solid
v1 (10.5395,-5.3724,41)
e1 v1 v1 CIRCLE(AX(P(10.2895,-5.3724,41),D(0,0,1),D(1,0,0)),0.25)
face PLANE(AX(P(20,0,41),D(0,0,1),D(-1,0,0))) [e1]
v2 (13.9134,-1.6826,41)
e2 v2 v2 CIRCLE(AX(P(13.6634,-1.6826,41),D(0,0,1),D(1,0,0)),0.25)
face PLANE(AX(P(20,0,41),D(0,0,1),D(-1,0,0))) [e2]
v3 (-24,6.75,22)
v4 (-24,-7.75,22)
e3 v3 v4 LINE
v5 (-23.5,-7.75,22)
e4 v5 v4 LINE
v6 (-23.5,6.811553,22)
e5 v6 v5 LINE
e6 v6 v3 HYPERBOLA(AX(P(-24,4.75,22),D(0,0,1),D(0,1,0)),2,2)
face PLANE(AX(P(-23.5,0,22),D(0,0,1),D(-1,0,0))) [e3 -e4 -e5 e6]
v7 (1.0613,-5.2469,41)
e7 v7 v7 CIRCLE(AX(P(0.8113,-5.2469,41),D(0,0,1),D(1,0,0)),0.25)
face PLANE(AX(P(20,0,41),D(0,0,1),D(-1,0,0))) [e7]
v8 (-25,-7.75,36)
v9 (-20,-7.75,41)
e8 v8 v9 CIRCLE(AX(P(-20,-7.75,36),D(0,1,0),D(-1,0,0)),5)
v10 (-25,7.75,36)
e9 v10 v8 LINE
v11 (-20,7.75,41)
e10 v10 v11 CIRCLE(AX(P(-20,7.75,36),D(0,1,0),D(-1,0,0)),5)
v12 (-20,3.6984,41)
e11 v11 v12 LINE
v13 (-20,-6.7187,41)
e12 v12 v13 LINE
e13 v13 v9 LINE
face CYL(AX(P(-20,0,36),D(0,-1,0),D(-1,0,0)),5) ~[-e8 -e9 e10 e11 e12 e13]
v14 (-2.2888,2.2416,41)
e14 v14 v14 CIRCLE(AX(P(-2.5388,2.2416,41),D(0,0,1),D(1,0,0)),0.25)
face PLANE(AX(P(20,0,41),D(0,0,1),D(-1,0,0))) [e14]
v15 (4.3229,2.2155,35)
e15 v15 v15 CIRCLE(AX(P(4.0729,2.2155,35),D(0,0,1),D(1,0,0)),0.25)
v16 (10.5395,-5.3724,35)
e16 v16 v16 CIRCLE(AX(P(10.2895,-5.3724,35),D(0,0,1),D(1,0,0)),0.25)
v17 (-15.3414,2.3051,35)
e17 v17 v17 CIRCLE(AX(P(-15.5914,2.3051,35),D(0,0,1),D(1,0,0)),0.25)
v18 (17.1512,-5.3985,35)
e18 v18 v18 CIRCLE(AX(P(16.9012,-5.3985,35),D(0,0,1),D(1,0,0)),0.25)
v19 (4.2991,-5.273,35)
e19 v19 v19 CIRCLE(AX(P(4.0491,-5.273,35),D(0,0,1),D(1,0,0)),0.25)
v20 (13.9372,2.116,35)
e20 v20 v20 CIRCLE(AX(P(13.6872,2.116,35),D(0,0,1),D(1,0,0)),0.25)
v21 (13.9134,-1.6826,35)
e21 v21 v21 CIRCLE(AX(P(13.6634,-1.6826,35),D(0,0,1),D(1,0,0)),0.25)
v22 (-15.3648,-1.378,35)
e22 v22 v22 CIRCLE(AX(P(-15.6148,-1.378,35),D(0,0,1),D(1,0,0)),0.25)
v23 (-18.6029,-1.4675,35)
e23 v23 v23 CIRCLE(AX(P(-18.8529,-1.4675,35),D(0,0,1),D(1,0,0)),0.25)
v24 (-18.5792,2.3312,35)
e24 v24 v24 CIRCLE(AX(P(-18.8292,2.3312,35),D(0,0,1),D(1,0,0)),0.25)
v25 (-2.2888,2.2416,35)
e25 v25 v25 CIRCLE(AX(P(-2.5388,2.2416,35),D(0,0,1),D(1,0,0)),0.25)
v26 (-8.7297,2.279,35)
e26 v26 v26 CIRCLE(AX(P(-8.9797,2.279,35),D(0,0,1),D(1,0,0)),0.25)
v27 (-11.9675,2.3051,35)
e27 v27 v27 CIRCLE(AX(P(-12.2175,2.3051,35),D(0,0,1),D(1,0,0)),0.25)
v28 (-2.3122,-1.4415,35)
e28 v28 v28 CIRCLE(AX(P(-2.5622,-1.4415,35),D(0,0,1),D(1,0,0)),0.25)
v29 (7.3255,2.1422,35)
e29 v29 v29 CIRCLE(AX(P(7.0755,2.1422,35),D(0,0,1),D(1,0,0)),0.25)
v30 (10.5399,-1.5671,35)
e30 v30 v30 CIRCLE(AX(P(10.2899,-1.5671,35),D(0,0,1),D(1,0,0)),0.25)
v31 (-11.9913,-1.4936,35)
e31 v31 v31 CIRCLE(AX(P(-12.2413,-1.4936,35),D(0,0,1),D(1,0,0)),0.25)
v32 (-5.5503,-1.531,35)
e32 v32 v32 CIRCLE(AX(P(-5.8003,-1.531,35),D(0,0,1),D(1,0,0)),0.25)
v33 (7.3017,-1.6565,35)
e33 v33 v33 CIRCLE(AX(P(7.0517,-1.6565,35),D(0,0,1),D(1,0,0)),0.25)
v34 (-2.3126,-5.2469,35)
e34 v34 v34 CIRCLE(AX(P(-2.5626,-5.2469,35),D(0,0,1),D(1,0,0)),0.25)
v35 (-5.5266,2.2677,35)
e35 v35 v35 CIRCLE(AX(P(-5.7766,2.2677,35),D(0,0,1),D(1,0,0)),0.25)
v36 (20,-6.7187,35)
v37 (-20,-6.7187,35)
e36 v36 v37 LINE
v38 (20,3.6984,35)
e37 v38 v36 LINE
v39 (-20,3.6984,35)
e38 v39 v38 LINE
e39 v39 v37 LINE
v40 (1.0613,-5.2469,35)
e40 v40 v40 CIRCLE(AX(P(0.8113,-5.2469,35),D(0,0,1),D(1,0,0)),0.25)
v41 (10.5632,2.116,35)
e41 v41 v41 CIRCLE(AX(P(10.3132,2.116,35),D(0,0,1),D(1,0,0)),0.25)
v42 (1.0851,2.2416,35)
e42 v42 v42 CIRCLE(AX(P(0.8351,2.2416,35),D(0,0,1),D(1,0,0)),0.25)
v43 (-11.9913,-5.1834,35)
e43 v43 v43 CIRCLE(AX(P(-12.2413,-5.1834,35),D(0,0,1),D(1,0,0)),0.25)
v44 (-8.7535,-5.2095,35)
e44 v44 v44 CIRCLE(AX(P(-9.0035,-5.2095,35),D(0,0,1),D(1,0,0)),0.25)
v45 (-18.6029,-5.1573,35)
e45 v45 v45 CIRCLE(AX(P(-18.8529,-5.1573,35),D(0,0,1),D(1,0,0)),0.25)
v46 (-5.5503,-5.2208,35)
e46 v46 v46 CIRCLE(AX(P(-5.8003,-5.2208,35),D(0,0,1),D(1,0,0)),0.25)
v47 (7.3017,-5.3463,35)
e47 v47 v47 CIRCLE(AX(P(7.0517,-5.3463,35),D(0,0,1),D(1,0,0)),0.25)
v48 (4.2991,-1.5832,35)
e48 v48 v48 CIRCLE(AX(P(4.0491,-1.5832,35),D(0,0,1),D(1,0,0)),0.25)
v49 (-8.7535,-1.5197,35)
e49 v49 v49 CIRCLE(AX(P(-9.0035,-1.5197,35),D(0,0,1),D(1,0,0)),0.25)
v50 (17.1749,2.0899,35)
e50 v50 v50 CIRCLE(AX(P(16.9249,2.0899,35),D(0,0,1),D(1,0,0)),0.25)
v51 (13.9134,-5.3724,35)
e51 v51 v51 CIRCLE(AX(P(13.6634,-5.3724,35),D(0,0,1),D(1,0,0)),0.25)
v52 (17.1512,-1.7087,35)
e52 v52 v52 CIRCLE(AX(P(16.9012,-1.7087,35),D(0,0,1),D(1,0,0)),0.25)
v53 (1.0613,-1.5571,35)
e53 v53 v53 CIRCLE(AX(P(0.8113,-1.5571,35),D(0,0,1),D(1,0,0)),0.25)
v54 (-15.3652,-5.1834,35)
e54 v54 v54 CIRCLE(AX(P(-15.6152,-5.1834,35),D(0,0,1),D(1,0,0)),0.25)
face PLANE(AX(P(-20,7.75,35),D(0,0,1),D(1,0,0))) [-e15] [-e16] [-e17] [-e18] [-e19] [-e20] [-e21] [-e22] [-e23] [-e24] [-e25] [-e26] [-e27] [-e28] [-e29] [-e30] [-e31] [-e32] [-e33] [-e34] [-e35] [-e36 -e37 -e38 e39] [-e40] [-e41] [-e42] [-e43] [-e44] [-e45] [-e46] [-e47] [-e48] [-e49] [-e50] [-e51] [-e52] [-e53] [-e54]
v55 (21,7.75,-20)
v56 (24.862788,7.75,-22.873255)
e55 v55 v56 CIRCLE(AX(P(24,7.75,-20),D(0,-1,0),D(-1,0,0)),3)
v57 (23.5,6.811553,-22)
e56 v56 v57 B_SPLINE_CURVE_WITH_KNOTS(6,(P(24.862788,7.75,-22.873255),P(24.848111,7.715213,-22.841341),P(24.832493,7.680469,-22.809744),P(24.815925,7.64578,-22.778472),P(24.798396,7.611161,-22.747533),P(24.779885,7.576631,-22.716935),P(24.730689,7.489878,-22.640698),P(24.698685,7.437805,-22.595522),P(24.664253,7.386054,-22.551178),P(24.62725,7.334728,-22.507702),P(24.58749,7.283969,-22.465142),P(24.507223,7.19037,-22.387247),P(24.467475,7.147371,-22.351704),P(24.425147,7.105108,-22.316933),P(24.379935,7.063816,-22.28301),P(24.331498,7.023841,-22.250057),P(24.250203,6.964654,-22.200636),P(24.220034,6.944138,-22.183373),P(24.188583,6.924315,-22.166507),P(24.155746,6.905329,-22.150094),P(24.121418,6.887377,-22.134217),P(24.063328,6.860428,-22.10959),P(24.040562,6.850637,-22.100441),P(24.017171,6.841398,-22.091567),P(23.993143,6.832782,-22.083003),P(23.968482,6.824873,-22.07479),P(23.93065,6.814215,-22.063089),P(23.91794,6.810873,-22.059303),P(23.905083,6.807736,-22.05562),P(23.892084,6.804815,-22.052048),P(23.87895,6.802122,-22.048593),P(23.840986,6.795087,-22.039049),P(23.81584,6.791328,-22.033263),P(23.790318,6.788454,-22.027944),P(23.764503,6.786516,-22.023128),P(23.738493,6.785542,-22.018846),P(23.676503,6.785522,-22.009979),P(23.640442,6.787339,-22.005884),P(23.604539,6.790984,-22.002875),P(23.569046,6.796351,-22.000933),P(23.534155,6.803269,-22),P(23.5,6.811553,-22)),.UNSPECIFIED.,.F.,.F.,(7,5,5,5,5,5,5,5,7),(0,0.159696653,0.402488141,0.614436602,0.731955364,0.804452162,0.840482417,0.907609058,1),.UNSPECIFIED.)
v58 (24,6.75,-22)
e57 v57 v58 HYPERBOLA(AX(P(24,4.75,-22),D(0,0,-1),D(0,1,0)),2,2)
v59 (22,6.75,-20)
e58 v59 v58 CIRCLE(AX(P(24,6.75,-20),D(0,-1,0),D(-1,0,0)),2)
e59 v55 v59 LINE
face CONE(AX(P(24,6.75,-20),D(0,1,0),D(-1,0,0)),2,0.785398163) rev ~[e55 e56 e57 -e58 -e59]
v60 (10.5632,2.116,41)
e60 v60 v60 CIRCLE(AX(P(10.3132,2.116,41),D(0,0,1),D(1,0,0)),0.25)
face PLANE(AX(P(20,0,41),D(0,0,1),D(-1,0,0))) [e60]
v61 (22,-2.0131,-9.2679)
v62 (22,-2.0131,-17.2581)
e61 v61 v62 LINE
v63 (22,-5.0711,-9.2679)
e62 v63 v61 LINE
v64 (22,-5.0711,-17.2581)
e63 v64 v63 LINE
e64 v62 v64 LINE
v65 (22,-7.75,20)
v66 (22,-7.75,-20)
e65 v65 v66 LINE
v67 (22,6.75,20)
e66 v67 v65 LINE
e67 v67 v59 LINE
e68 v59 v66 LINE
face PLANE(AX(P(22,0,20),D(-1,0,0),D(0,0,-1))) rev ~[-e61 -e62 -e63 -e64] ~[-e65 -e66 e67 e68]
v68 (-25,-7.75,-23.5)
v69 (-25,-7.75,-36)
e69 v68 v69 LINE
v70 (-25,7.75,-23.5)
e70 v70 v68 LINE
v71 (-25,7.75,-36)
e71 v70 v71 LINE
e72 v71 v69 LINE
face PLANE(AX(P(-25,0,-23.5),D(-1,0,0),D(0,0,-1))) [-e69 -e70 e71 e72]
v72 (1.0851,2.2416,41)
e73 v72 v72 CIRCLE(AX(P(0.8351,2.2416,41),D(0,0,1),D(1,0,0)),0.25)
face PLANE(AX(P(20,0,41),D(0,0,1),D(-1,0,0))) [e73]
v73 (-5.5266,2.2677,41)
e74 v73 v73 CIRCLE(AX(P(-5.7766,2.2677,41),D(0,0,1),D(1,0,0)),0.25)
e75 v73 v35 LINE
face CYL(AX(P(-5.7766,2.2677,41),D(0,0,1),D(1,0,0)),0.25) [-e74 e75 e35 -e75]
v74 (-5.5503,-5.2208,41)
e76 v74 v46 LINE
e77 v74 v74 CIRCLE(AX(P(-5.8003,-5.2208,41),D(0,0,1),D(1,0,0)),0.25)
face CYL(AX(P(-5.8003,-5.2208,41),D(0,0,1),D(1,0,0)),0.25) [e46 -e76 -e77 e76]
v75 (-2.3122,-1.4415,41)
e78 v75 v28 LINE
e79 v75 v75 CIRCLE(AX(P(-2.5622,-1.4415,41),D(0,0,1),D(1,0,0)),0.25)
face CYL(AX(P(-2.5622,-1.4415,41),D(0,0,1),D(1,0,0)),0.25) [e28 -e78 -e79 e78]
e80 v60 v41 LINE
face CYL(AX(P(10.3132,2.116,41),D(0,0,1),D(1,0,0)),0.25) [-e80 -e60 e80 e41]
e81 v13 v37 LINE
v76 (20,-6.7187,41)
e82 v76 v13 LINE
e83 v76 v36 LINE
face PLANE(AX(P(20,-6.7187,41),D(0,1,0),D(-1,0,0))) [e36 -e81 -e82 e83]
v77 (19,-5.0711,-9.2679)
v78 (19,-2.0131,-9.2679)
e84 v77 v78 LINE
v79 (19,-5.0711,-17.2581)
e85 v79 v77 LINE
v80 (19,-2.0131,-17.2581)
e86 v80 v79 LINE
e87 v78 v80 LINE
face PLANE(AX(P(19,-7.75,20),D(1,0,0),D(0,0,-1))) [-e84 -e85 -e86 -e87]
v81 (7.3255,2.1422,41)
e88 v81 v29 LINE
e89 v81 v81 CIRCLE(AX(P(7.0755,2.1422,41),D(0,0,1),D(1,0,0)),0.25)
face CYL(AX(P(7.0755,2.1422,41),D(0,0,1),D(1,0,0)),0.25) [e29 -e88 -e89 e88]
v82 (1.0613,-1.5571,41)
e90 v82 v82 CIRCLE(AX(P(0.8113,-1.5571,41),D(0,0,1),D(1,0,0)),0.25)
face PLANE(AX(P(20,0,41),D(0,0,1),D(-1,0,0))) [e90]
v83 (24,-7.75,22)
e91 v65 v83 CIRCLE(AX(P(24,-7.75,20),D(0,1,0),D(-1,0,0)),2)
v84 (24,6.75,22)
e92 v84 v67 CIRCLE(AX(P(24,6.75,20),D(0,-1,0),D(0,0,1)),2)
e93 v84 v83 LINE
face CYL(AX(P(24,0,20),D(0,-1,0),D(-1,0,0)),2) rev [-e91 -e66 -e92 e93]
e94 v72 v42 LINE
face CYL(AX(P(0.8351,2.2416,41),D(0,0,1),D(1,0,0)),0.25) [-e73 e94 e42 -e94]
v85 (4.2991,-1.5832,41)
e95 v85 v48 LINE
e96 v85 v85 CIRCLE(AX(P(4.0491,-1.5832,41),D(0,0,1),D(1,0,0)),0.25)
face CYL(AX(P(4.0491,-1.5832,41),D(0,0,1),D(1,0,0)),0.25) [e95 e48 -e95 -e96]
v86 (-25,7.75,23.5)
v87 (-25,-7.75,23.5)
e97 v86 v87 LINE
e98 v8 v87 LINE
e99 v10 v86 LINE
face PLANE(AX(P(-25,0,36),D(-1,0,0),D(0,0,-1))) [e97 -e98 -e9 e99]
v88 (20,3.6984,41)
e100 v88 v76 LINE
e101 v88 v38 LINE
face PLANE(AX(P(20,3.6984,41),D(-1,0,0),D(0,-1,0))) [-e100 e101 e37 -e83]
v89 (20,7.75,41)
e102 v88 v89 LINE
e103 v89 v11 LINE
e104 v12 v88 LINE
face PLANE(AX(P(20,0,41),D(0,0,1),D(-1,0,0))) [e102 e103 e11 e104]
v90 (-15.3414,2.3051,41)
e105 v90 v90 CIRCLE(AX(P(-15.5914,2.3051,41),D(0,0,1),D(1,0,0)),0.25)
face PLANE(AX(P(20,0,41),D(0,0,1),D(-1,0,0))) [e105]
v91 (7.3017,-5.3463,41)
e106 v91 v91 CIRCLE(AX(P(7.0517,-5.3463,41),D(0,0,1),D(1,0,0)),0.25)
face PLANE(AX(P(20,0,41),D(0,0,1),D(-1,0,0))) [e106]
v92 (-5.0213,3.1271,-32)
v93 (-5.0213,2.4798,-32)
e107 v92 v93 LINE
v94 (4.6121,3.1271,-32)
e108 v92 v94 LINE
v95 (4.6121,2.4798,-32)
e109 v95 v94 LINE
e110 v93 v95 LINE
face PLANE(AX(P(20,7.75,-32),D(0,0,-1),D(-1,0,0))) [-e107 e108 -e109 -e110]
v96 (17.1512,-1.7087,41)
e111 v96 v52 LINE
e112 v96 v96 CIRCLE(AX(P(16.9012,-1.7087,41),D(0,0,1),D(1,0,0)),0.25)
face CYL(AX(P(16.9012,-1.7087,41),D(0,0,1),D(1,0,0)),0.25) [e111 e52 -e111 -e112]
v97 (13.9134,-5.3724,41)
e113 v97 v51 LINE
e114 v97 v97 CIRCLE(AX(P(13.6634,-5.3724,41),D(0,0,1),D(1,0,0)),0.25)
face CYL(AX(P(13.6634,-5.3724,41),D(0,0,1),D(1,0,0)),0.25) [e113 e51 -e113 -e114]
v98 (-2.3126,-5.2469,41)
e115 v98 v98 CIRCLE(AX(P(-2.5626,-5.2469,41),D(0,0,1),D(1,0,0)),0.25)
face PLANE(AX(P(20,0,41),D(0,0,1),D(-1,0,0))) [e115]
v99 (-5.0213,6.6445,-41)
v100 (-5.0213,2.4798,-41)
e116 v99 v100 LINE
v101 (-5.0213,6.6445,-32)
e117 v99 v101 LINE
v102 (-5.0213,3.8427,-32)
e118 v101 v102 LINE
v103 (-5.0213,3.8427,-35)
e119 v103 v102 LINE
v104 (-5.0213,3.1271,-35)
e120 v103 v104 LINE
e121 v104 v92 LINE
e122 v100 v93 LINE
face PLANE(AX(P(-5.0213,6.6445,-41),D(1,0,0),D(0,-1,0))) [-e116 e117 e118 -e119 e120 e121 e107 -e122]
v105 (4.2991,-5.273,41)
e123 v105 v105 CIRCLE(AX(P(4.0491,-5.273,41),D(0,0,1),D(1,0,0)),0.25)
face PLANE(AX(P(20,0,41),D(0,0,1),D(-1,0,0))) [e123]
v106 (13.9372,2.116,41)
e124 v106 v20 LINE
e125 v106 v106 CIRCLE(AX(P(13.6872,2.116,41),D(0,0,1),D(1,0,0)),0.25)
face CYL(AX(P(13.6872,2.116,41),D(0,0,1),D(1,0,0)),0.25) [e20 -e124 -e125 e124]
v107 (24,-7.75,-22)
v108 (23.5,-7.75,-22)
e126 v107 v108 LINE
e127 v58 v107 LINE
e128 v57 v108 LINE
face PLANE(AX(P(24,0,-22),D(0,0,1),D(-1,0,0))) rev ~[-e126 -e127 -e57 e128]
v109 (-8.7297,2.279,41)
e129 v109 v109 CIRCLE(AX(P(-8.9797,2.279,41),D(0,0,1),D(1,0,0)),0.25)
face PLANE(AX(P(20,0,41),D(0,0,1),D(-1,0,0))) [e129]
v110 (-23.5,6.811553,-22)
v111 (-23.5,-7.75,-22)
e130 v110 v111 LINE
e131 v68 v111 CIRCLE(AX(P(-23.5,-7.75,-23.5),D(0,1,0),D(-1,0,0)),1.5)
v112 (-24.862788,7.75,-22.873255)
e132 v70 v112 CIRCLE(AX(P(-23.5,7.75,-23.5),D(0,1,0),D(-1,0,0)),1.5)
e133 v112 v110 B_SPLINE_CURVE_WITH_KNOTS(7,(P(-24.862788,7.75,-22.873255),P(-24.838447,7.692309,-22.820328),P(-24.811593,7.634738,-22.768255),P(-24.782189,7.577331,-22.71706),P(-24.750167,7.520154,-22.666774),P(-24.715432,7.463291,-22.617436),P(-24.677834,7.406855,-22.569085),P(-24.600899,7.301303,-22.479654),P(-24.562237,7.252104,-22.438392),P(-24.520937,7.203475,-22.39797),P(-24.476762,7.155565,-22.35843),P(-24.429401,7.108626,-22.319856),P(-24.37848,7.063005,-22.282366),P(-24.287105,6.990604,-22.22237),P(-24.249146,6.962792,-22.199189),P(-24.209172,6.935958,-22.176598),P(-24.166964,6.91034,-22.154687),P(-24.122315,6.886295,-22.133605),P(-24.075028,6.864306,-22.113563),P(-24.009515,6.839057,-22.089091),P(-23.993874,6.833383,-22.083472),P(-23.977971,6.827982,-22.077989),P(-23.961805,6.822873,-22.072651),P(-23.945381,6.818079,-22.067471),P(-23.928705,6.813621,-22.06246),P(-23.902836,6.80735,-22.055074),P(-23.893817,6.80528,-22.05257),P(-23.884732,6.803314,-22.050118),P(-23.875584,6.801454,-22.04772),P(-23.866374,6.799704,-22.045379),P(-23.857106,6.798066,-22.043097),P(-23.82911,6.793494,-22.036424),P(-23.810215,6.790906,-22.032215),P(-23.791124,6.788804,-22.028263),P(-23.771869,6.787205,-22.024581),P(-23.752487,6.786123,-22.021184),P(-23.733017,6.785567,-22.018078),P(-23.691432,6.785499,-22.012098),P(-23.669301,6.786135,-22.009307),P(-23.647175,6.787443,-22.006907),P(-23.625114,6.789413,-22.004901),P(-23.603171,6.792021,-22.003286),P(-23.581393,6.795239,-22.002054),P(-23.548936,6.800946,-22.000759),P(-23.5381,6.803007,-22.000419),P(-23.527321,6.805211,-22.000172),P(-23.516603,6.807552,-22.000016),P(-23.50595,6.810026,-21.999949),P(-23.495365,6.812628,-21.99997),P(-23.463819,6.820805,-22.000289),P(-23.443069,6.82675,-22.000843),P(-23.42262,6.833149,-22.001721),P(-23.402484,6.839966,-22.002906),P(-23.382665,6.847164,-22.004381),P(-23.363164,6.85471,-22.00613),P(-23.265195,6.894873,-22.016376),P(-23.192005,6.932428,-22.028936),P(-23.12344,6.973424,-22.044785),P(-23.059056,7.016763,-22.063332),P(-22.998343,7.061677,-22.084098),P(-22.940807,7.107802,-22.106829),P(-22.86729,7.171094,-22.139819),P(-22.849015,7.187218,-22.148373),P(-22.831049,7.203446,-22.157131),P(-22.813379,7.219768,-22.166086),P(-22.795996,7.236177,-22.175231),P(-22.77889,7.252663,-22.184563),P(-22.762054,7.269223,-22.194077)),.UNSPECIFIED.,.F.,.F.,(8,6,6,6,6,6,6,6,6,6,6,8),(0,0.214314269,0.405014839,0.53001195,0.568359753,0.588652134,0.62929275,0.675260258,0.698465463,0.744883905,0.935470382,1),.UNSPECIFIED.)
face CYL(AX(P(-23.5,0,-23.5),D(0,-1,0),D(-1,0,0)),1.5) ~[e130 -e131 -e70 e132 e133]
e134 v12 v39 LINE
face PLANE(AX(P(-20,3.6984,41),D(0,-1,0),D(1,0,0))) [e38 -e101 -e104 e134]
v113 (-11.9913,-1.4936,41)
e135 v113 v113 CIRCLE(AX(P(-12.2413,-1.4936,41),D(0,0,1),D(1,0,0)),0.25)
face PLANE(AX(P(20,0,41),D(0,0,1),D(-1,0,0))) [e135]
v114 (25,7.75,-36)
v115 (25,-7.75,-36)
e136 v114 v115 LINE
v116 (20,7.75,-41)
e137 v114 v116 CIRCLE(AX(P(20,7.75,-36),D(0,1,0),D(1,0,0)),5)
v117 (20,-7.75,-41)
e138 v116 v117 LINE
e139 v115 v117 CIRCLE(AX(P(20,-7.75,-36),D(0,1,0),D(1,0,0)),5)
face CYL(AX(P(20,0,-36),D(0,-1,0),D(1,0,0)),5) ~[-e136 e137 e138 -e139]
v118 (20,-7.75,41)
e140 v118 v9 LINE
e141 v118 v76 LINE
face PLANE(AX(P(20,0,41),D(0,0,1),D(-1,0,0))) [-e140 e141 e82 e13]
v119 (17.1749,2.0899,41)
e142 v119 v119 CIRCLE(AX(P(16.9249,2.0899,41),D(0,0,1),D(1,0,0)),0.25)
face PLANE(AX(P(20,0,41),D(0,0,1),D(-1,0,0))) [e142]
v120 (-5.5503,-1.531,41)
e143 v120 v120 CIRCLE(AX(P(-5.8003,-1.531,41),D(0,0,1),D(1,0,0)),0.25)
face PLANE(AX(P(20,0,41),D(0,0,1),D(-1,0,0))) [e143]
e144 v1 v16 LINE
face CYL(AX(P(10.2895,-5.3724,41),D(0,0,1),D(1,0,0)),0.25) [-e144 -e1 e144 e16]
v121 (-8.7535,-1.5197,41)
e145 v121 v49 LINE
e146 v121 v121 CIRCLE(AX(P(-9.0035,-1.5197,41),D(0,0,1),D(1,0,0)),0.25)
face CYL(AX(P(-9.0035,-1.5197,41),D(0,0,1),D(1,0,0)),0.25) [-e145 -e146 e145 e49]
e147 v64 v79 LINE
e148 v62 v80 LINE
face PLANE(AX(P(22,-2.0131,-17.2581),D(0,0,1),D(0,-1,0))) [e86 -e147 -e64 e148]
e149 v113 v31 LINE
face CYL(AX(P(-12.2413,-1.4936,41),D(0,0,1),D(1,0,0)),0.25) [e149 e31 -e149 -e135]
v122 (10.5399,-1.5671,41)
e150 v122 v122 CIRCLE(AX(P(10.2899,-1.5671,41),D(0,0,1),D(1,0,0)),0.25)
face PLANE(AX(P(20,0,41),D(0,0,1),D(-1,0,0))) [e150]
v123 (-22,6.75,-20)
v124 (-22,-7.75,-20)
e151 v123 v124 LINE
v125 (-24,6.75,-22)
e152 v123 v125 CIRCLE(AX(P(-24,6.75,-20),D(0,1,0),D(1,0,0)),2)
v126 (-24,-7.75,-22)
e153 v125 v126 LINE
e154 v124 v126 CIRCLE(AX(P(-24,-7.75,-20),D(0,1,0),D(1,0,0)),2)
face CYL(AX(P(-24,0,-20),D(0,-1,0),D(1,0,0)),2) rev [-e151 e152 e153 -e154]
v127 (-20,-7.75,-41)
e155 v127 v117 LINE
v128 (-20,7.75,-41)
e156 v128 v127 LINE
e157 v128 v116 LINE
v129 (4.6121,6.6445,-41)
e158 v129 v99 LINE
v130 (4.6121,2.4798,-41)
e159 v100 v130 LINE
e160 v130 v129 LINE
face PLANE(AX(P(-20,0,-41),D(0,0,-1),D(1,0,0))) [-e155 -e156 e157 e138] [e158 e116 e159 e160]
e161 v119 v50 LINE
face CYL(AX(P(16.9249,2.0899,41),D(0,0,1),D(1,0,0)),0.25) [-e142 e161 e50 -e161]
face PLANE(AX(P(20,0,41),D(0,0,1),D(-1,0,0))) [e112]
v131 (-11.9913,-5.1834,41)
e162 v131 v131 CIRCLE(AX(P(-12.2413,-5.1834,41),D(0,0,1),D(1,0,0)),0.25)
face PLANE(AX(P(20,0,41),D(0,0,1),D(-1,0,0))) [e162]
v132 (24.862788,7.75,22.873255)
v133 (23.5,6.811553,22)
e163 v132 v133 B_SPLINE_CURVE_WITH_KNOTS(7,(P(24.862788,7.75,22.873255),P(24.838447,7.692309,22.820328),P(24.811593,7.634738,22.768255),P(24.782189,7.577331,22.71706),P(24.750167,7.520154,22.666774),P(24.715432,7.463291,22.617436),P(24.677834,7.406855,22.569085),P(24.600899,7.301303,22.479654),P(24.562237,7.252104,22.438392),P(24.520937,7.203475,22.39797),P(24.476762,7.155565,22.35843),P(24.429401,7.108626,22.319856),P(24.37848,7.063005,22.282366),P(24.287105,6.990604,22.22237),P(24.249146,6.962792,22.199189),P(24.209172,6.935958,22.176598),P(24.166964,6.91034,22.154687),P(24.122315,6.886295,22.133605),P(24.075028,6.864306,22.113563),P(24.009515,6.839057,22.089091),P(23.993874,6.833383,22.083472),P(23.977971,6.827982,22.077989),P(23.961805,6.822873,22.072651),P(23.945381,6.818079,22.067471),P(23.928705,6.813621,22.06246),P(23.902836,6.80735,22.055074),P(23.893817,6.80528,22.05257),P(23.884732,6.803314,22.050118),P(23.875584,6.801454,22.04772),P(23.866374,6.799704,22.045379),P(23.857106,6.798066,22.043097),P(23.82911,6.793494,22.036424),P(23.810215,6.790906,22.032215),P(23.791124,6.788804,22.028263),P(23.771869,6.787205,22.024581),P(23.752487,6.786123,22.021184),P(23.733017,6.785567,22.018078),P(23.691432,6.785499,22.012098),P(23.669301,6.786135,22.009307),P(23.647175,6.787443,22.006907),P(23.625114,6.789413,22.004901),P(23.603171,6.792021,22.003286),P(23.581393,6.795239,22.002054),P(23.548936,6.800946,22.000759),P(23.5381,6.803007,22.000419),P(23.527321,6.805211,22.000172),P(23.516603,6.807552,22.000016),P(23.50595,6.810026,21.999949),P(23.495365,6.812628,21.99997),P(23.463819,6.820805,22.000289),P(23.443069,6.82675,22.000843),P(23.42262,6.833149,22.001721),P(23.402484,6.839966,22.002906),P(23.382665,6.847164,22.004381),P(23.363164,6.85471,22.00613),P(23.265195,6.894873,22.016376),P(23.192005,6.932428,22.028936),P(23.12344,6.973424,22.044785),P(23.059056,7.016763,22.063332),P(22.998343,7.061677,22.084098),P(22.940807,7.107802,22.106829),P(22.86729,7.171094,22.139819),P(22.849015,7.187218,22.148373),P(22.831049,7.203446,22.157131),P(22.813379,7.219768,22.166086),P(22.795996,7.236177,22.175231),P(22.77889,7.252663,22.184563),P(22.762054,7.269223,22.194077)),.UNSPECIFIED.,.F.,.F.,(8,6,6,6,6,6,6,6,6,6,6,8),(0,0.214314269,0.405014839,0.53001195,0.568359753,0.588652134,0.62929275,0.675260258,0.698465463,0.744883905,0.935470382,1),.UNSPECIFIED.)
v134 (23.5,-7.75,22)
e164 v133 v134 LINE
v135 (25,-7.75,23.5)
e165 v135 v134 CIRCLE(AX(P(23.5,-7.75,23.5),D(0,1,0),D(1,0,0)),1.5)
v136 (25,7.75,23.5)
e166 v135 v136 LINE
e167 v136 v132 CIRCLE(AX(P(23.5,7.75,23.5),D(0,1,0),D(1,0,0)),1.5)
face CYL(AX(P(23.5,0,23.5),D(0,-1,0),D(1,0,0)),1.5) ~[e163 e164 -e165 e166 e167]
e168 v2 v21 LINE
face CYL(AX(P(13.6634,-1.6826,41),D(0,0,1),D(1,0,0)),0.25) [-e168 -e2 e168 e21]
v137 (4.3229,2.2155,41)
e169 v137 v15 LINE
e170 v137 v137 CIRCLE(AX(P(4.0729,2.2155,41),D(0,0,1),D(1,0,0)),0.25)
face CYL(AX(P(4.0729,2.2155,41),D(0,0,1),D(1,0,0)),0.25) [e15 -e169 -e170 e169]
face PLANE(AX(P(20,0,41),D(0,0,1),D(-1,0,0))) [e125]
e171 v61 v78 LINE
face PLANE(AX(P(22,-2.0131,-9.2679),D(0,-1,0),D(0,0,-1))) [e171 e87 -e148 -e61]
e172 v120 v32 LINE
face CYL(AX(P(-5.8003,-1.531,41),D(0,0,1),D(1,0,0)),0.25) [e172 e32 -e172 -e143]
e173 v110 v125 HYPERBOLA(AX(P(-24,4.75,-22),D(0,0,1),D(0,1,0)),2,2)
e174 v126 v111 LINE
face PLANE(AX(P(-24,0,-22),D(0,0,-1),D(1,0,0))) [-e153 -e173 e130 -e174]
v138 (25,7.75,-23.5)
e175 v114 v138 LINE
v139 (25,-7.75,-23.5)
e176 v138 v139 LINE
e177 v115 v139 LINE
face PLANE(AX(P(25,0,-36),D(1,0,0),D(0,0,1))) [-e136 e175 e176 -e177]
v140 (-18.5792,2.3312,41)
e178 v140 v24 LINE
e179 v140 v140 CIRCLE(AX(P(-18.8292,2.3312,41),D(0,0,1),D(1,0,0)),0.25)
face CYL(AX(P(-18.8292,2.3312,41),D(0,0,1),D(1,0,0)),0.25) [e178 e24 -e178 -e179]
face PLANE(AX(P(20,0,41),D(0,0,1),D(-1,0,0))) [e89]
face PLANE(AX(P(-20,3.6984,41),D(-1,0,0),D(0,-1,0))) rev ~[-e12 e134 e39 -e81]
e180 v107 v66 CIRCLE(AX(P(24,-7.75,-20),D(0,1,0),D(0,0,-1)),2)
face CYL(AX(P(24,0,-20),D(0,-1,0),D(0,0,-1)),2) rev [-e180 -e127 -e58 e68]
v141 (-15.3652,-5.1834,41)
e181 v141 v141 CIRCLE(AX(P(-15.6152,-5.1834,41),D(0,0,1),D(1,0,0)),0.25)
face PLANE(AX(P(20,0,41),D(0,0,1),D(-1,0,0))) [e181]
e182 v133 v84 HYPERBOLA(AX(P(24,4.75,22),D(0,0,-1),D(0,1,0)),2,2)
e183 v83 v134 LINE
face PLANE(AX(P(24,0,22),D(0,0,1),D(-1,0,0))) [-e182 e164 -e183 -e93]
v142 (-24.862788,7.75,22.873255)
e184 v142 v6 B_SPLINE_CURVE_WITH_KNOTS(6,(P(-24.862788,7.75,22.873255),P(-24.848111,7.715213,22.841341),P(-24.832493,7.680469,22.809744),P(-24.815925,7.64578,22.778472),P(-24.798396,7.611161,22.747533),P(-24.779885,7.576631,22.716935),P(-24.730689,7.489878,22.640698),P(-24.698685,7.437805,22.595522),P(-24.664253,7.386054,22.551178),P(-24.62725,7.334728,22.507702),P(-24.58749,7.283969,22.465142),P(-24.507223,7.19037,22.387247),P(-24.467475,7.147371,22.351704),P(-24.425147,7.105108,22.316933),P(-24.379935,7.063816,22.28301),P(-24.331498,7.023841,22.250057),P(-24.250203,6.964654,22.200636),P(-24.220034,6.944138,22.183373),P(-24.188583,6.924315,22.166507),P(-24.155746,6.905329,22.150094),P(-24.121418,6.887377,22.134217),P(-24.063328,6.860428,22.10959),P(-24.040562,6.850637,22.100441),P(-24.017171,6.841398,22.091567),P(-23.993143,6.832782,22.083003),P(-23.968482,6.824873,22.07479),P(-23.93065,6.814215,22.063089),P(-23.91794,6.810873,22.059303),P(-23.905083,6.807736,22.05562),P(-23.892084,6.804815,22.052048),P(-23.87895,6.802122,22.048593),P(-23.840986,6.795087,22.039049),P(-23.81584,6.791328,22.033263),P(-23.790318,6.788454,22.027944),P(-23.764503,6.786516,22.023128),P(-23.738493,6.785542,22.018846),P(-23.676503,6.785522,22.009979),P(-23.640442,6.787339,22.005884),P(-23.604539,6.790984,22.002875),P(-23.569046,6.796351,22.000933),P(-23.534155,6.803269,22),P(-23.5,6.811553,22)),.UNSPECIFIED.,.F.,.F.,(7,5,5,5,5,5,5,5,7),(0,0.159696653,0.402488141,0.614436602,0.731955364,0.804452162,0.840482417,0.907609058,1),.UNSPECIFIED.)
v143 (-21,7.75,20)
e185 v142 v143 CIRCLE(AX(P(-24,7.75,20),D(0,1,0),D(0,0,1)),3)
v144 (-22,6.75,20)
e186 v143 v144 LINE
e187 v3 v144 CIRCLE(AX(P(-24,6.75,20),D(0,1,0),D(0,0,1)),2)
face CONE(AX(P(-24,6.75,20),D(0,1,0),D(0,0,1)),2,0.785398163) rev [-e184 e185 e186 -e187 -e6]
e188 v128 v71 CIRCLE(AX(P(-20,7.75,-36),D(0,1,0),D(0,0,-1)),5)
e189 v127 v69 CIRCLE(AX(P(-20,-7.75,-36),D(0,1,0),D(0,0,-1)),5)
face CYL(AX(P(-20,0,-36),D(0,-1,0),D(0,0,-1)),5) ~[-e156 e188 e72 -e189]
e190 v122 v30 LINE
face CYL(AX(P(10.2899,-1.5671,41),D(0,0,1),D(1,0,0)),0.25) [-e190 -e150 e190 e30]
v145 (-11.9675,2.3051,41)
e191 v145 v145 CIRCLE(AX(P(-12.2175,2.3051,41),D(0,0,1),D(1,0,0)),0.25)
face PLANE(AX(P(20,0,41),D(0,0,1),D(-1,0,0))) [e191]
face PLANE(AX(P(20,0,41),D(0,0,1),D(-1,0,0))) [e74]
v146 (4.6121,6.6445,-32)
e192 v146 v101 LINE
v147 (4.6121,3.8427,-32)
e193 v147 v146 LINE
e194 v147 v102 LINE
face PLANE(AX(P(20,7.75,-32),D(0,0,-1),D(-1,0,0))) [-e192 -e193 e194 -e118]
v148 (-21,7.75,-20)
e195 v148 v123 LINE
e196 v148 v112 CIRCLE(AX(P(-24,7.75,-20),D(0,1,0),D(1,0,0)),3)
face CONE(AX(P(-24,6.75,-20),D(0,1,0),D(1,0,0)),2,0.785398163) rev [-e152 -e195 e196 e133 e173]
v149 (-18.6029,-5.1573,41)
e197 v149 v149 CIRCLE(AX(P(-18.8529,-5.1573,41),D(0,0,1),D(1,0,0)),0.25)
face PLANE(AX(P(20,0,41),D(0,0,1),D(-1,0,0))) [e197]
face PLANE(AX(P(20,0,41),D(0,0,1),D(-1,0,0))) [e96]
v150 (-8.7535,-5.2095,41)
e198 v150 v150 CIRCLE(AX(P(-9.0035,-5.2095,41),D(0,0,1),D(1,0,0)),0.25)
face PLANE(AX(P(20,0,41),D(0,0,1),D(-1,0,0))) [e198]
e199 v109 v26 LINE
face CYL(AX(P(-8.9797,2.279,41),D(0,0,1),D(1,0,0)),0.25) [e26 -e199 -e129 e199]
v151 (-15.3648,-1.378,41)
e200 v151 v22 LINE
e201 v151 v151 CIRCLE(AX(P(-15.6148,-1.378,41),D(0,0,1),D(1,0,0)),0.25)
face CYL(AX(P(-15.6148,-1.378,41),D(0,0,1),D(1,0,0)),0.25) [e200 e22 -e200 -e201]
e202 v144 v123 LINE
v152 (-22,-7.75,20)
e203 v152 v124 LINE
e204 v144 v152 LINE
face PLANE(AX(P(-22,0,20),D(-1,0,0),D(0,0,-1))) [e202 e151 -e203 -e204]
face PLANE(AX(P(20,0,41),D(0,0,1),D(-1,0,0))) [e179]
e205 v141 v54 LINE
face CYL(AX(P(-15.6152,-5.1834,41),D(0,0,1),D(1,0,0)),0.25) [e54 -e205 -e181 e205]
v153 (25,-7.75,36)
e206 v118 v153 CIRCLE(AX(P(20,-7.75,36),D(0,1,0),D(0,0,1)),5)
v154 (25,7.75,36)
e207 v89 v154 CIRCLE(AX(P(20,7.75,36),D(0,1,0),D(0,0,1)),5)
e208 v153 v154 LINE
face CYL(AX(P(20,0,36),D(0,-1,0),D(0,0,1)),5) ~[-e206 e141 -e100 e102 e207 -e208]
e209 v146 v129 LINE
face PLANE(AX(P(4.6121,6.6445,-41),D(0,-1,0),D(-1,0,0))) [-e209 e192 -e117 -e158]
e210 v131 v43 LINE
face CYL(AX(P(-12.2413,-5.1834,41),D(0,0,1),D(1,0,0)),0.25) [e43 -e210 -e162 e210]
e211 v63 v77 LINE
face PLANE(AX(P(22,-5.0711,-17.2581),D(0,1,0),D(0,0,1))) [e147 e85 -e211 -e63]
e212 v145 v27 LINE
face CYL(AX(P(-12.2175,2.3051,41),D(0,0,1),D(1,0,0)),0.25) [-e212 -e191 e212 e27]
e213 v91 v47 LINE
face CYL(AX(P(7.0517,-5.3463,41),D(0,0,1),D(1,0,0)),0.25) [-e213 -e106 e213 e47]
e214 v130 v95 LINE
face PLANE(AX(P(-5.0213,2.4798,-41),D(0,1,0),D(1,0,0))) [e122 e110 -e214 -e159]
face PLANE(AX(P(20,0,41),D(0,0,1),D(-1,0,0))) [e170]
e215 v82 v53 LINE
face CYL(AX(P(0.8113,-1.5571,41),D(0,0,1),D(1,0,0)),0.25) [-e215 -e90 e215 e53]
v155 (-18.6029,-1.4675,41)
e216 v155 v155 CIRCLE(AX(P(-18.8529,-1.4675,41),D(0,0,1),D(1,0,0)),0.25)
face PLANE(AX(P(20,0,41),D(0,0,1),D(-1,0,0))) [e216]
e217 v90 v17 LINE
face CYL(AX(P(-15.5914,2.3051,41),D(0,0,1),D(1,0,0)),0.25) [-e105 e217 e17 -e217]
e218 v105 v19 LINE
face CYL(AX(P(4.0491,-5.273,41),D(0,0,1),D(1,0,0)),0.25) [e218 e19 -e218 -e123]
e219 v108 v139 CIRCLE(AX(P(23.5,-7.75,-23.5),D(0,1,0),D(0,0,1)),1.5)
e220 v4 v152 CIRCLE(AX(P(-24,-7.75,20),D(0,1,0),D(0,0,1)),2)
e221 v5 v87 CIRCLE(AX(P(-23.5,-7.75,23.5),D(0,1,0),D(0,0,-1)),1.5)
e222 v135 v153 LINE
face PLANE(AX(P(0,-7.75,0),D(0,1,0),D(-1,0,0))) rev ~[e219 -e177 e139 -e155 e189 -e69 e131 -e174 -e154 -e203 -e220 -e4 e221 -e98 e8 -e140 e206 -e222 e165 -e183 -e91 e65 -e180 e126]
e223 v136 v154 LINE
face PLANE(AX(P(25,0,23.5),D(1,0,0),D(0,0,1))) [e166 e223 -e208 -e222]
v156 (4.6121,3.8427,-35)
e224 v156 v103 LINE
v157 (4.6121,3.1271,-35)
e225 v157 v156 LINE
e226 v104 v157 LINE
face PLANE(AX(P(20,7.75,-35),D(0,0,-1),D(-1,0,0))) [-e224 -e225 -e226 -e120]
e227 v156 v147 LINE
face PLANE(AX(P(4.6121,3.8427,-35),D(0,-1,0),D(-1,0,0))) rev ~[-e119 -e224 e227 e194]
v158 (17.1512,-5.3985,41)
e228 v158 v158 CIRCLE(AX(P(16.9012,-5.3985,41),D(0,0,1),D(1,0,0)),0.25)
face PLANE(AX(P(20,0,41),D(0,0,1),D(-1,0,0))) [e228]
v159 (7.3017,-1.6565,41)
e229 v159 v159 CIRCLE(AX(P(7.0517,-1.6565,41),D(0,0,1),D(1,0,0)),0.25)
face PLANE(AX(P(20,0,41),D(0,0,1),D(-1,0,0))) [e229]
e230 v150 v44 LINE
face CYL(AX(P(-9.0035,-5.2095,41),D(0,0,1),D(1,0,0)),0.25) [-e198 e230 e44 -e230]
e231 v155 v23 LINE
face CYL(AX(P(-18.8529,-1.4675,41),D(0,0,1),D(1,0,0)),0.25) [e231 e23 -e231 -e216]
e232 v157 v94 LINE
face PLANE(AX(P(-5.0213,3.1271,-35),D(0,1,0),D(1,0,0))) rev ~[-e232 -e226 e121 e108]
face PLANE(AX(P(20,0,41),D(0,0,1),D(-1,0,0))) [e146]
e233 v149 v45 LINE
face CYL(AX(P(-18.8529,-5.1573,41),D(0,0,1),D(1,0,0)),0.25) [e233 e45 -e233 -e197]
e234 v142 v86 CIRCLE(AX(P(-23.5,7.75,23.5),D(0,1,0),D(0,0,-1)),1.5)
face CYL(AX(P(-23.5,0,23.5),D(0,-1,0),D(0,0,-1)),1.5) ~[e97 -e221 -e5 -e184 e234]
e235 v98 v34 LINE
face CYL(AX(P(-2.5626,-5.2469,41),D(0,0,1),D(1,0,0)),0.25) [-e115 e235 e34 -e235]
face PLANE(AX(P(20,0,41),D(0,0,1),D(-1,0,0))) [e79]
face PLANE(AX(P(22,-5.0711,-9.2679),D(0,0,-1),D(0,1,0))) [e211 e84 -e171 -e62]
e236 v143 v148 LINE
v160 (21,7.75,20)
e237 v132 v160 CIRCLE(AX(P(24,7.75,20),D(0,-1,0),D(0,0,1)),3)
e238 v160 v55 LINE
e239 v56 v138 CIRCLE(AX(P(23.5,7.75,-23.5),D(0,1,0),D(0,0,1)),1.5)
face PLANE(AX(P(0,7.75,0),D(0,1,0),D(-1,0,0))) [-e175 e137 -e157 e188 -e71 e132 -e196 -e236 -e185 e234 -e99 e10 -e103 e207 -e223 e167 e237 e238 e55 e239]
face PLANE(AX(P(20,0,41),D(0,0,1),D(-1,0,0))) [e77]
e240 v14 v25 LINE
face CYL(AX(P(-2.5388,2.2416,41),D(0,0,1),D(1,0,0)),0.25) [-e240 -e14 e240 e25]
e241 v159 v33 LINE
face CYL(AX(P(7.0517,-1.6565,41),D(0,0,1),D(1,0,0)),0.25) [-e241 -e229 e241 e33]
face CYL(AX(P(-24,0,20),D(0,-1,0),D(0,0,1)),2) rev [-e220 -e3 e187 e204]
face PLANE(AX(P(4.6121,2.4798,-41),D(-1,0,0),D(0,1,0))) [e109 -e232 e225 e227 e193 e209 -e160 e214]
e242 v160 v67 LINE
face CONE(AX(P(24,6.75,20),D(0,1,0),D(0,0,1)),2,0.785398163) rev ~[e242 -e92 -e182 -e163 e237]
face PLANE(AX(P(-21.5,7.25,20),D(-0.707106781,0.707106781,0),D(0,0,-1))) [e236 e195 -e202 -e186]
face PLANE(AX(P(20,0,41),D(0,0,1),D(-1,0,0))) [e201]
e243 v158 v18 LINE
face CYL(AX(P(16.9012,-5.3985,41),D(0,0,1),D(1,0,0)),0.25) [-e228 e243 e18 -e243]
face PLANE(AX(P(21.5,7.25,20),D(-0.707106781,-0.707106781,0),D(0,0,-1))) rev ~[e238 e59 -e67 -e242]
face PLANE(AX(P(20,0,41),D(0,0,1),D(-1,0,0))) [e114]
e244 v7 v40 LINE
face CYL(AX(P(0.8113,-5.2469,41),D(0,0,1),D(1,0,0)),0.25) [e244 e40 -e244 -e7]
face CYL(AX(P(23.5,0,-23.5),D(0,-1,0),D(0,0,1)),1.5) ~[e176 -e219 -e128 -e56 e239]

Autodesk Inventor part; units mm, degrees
ref_plane "YZ Plane" through (0, 0, 0) normal (1, 0, 0) x (0, 1, 0)
ref_plane "XZ Plane" through (0, 0, 0) normal (0, 1, 0) x (-1, 0, 0)
ref_plane "XY Plane" through (0, 0, 0) normal (0, 0, 1) x (1, 0, 0)
sketch "Sketch1" plane through (0, 0, 0) normal (0, 1, 0) x (-1, 0, 0)
  line L0 (-20, 41) -> (20, 41)
  line L1 (20, -41) -> (-20, -41)
  line L2 (-22, 20) -> (-22, -20)
  line L3 (22, 20) -> (22, -20)
  line L4 (24, -22) -> (23.5, -22)
  line L5 (-24, -22) -> (-23.5, -22)
  line L6 (-25, -36) -> (-25, -23.5)
  line L7 (-25, 23.5) -> (-25, 36)
  line L8 (23.5, 22) -> (24, 22)
  line L9 (-24, 22) -> (-23.5, 22)
  line L10 (25, 36) -> (25, 23.5)
  line L11 (25, -23.5) -> (25, -36)
  arc A0 (-20, 41) -> (-25, 36) centre (-20, 36) ccw
  arc A1 (25, 36) -> (20, 41) centre (20, 36) ccw
  arc A2 (-25, -36) -> (-20, -41) centre (-20, -36) ccw
  arc A3 (20, -41) -> (25, -36) centre (20, -36) ccw
  arc A4 (-22, 20) -> (-24, 22) centre (-24, 20) ccw
  arc A5 (-24, -22) -> (-22, -20) centre (-24, -20) ccw
  arc A6 (22, -20) -> (24, -22) centre (24, -20) ccw
  arc A7 (24, 22) -> (22, 20) centre (24, 20) ccw
  arc A8 (-25, 23.5) -> (-23.5, 22) centre (-23.5, 23.5) ccw
  arc A9 (23.5, 22) -> (25, 23.5) centre (23.5, 23.5) ccw
  arc A10 (25, -23.5) -> (23.5, -22) centre (23.5, -23.5) ccw
  arc A11 (-23.5, -22) -> (-25, -23.5) centre (-23.5, -23.5) ccw
  point P0 (0, 0)
  point P1 (25, -41)
  point P2 (25, 41)
  point P3 (-25, -41)
  dimension "d0" = 50
  dimension "d1" = 82
  dimension "d3" = 5
  dimension "d4" = 5
  dimension "d5" = 2
  dimension "d6" = 1.5
extrude "Extrusion1" add sketch "Sketch1" along normal mid plane 15.5
chamfer "Chamfer1" distance 1 angle 45 6 edges at (22, 7.75, 0) (22.5858, 7.75, -21.4142) (22.5858, 7.75, 21.4142) (-22, 7.75, 0) (-22.5858, 7.75, 21.4142) (-22.5858, 7.75, -21.4142)
sketch "Sketch3" plane through (-20, 7.75, 41) normal (0, 0, 1) x (1, 0, 0)
  line L0 (0, -4.0516) -> (40, -4.0516)
  line L1 (40, -4.0516) -> (40, -14.4687)
  line L2 (40, -14.4687) -> (0, -14.4687)
  line L3 (0, -4.0516) -> (0, -14.4687)
  circle A0 centre (1.1708, -5.4188) radius 0.25
  circle A1 centre (1.1471, -9.2175) radius 0.25
  circle A2 centre (1.1471, -12.9073) radius 0.25
  circle A3 centre (4.4086, -5.4449) radius 0.25
  circle A4 centre (4.3852, -9.128) radius 0.25
  circle A5 centre (4.3848, -12.9334) radius 0.25
  circle A6 centre (7.7825, -5.4449) radius 0.25
  circle A7 centre (7.7587, -9.2436) radius 0.25
  circle A8 centre (7.7587, -12.9334) radius 0.25
  circle A9 centre (11.0203, -5.471) radius 0.25
  circle A10 centre (10.9965, -9.2697) radius 0.25
  circle A11 centre (10.9965, -12.9595) radius 0.25
  circle A12 centre (14.2234, -5.4823) radius 0.25
  circle A13 centre (14.1997, -9.281) radius 0.25
  circle A14 centre (14.1997, -12.9708) radius 0.25
  circle A15 centre (17.4612, -5.5084) radius 0.25
  circle A16 centre (17.4378, -9.1915) radius 0.25
  circle A17 centre (17.4374, -12.9969) radius 0.25
  circle A18 centre (20.8351, -5.5084) radius 0.25
  circle A19 centre (20.8113, -9.3071) radius 0.25
  circle A20 centre (20.8113, -12.9969) radius 0.25
  circle A21 centre (24.0729, -5.5345) radius 0.25
  circle A22 centre (24.0491, -9.3332) radius 0.25
  circle A23 centre (24.0491, -13.023) radius 0.25
  circle A24 centre (27.0517, -9.4065) radius 0.25
  circle A25 centre (27.0517, -13.0963) radius 0.25
  circle A26 centre (27.0755, -5.6078) radius 0.25
  circle A27 centre (30.2895, -13.1224) radius 0.25
  circle A28 centre (30.3132, -5.634) radius 0.25
  circle A29 centre (33.6634, -9.4326) radius 0.25
  circle A30 centre (33.6634, -13.1224) radius 0.25
  circle A31 centre (33.6872, -5.634) radius 0.25
  circle A32 centre (36.9012, -9.4587) radius 0.25
  circle A33 centre (36.9012, -13.1485) radius 0.25
  circle A34 centre (36.9249, -5.6601) radius 0.25
  circle A35 centre (30.2899, -9.3171) radius 0.25
  point P0 (0, 0)
  dimension "d13" = 0.5
  dimension "d14" = 0.5
  dimension "d15" = 0.5
  dimension "d16" = 0.5
  dimension "d17" = 0.5
  dimension "d18" = 0.5
  dimension "d19" = 0.5
  dimension "d20" = 0.5
  dimension "d21" = 0.5
  dimension "d22" = 0.5
  dimension "d23" = 0.5
  dimension "d24" = 0.5
  dimension "d31" = 0.5
  dimension "d32" = 0.5
  dimension "d33" = 0.5
  dimension "d34" = 0.5
  dimension "d35" = 0.5
  dimension "d36" = 0.5
  dimension "d37" = 0.5
  dimension "d38" = 0.5
  dimension "d39" = 0.5
  dimension "d40" = 0.5
  dimension "d41" = 0.5
  dimension "d42" = 0.5
  dimension "d43" = 0.5
  dimension "d44" = 0.5
  dimension "d45" = 0.5
  dimension "d46" = 0.5
  dimension "d47" = 0.5
  dimension "d48" = 0.5
  dimension "d49" = 0.5
  dimension "d50" = 0.5
  dimension "d51" = 0.5
  dimension "d52" = 0.5
  dimension "d53" = 0.5
  dimension "d54" = 0.5
extrude "Extrusion2" cut sketch "Sketch3" against normal blind 6
sketch "Sketch4" plane through (20, 7.75, -41) normal (0, 0, -1) x (-1, 0, 0)
  line L0 (15.3879, -1.1055) -> (25.0213, -1.1055)
  line L1 (25.0213, -1.1055) -> (25.0213, -5.2702)
  line L2 (25.0213, -5.2702) -> (15.3879, -5.2702)
  line L3 (15.3879, -5.2702) -> (15.3879, -1.1055)
  point P0 (20, -7.75)
extrude "Extrusion3" cut sketch "Sketch4" against normal blind 6
sketch "Sketch5" plane through (20, 7.75, -35) normal (0, 0, -1) x (-1, 0, 0)
  line L0 (15.3879, -1.1055) -> (25.0213, -1.1055) projected
  line L1 (15.3879, -5.2702) -> (15.3879, -1.1055) projected
  line L2 (25.0213, -5.2702) -> (15.3879, -5.2702) projected
  line L3 (25.0213, -1.1055) -> (25.0213, -5.2702) projected
  line L4 (15.3879, -3.9073) -> (25.0213, -3.9073)
  line L5 (25.0213, -3.9073) -> (25.0213, -4.6229)
  line L6 (25.0213, -4.6229) -> (15.3879, -4.6229)
  line L7 (15.3879, -4.6229) -> (15.3879, -3.9073)
  point P0 (20, -7.75)
extrude "Extrusion4" cut sketch "Sketch5" against normal blind 3 contours L0 L3 L4 L1 | L6 L3 L2 L1
sketch "Sketch6" plane through (22, -7.75, 20) normal (1, 0, 0) x (0, 0, -1)
  line L0 (29.2679, 5.7369) -> (37.2581, 5.7369)
  line L1 (37.2581, 5.7369) -> (37.2581, 2.6789)
  line L2 (37.2581, 2.6789) -> (29.2679, 2.6789)
  line L3 (29.2679, 2.6789) -> (29.2679, 5.7369)
  point P0 (20, 7.75)
extrude "Extrusion5" cut sketch "Sketch6" against normal blind 3
sketch "Sketch7" plane through (0, 7.75, 0) normal (0, 1, 0) x (1, 0, 0)
  arc A0 (-24.8628, -22.8733) -> (-21, -20) centre (-24, -20) ccw projected
  arc A1 (-24.8628, -22.8733) -> (-25, -23.5) centre (-23.5, -23.5) ccw projected
  line L0 (-25, -23.5) -> (-25, -36) projected
  arc A2 (-25, -36) -> (-20, -41) centre (-20, -36) ccw projected
  line L1 (-20, -41) -> (20, -41) projected
  arc A3 (20, -41) -> (25, -36) centre (20, -36) ccw projected
  line L2 (25, -36) -> (25, -23.5) projected
  arc A4 (25, -23.5) -> (24.8628, -22.8733) centre (23.5, -23.5) ccw projected
  arc A5 (21, -20) -> (24.8628, -22.8733) centre (24, -20) ccw projected
  line L3 (21, 20) -> (21, -20) projected
  arc A6 (24.8628, 22.8733) -> (21, 20) centre (24, 20) ccw projected
  arc A7 (24.8628, 22.8733) -> (25, 23.5) centre (23.5, 23.5) ccw projected
  line L4 (25, 23.5) -> (25, 36) projected
  arc A8 (25, 36) -> (20, 41) centre (20, 36) ccw projected
  line L5 (20, 41) -> (-20, 41) projected
  arc A9 (-20, 41) -> (-25, 36) centre (-20, 36) ccw projected
  line L6 (-25, 36) -> (-25, 23.5) projected
  arc A10 (-25, 23.5) -> (-24.8628, 22.8733) centre (-23.5, 23.5) ccw projected
  arc A11 (-21, 20) -> (-24.8628, 22.8733) centre (-24, 20) ccw projected
  line L7 (-21, -20) -> (-21, 20) projected
  line L8 (-21.4799, 39.3573) -> (21.8643, 39.3573) construction
  line L9 (21.8643, 39.3573) -> (21.8643, -39.5227) construction
  line L10 (21.8643, -39.5227) -> (-21.4799, -39.5227) construction
  line L11 (-21.4799, -39.5227) -> (-21.4799, 39.3573) construction
  point P0 (0, 0)
sketch "Sketch8" plane through (-20, 7.75, 41) normal (0, 0, 1) x (1, 0, 0)
  line L0 (0, -4.0516) -> (40, -4.0516) projected
  line L1 (40, -4.0516) -> (40, 0) projected
  line L2 (0, 0) -> (40, 0) projected
  line L3 (0, 0) -> (0, -4.0516) projected
  line L4 (0, -2.4579) -> (43.4321, -2.4579) construction
  line L5 (43.4321, -2.4579) -> (43.4321, -14.2561) construction
  line L6 (43.4321, -14.2561) -> (0, -14.2561) construction
  line L7 (0, -14.2561) -> (0, -2.4579) construction
  point P0 (20, -7.75)
properties part number "Pixhawk"
